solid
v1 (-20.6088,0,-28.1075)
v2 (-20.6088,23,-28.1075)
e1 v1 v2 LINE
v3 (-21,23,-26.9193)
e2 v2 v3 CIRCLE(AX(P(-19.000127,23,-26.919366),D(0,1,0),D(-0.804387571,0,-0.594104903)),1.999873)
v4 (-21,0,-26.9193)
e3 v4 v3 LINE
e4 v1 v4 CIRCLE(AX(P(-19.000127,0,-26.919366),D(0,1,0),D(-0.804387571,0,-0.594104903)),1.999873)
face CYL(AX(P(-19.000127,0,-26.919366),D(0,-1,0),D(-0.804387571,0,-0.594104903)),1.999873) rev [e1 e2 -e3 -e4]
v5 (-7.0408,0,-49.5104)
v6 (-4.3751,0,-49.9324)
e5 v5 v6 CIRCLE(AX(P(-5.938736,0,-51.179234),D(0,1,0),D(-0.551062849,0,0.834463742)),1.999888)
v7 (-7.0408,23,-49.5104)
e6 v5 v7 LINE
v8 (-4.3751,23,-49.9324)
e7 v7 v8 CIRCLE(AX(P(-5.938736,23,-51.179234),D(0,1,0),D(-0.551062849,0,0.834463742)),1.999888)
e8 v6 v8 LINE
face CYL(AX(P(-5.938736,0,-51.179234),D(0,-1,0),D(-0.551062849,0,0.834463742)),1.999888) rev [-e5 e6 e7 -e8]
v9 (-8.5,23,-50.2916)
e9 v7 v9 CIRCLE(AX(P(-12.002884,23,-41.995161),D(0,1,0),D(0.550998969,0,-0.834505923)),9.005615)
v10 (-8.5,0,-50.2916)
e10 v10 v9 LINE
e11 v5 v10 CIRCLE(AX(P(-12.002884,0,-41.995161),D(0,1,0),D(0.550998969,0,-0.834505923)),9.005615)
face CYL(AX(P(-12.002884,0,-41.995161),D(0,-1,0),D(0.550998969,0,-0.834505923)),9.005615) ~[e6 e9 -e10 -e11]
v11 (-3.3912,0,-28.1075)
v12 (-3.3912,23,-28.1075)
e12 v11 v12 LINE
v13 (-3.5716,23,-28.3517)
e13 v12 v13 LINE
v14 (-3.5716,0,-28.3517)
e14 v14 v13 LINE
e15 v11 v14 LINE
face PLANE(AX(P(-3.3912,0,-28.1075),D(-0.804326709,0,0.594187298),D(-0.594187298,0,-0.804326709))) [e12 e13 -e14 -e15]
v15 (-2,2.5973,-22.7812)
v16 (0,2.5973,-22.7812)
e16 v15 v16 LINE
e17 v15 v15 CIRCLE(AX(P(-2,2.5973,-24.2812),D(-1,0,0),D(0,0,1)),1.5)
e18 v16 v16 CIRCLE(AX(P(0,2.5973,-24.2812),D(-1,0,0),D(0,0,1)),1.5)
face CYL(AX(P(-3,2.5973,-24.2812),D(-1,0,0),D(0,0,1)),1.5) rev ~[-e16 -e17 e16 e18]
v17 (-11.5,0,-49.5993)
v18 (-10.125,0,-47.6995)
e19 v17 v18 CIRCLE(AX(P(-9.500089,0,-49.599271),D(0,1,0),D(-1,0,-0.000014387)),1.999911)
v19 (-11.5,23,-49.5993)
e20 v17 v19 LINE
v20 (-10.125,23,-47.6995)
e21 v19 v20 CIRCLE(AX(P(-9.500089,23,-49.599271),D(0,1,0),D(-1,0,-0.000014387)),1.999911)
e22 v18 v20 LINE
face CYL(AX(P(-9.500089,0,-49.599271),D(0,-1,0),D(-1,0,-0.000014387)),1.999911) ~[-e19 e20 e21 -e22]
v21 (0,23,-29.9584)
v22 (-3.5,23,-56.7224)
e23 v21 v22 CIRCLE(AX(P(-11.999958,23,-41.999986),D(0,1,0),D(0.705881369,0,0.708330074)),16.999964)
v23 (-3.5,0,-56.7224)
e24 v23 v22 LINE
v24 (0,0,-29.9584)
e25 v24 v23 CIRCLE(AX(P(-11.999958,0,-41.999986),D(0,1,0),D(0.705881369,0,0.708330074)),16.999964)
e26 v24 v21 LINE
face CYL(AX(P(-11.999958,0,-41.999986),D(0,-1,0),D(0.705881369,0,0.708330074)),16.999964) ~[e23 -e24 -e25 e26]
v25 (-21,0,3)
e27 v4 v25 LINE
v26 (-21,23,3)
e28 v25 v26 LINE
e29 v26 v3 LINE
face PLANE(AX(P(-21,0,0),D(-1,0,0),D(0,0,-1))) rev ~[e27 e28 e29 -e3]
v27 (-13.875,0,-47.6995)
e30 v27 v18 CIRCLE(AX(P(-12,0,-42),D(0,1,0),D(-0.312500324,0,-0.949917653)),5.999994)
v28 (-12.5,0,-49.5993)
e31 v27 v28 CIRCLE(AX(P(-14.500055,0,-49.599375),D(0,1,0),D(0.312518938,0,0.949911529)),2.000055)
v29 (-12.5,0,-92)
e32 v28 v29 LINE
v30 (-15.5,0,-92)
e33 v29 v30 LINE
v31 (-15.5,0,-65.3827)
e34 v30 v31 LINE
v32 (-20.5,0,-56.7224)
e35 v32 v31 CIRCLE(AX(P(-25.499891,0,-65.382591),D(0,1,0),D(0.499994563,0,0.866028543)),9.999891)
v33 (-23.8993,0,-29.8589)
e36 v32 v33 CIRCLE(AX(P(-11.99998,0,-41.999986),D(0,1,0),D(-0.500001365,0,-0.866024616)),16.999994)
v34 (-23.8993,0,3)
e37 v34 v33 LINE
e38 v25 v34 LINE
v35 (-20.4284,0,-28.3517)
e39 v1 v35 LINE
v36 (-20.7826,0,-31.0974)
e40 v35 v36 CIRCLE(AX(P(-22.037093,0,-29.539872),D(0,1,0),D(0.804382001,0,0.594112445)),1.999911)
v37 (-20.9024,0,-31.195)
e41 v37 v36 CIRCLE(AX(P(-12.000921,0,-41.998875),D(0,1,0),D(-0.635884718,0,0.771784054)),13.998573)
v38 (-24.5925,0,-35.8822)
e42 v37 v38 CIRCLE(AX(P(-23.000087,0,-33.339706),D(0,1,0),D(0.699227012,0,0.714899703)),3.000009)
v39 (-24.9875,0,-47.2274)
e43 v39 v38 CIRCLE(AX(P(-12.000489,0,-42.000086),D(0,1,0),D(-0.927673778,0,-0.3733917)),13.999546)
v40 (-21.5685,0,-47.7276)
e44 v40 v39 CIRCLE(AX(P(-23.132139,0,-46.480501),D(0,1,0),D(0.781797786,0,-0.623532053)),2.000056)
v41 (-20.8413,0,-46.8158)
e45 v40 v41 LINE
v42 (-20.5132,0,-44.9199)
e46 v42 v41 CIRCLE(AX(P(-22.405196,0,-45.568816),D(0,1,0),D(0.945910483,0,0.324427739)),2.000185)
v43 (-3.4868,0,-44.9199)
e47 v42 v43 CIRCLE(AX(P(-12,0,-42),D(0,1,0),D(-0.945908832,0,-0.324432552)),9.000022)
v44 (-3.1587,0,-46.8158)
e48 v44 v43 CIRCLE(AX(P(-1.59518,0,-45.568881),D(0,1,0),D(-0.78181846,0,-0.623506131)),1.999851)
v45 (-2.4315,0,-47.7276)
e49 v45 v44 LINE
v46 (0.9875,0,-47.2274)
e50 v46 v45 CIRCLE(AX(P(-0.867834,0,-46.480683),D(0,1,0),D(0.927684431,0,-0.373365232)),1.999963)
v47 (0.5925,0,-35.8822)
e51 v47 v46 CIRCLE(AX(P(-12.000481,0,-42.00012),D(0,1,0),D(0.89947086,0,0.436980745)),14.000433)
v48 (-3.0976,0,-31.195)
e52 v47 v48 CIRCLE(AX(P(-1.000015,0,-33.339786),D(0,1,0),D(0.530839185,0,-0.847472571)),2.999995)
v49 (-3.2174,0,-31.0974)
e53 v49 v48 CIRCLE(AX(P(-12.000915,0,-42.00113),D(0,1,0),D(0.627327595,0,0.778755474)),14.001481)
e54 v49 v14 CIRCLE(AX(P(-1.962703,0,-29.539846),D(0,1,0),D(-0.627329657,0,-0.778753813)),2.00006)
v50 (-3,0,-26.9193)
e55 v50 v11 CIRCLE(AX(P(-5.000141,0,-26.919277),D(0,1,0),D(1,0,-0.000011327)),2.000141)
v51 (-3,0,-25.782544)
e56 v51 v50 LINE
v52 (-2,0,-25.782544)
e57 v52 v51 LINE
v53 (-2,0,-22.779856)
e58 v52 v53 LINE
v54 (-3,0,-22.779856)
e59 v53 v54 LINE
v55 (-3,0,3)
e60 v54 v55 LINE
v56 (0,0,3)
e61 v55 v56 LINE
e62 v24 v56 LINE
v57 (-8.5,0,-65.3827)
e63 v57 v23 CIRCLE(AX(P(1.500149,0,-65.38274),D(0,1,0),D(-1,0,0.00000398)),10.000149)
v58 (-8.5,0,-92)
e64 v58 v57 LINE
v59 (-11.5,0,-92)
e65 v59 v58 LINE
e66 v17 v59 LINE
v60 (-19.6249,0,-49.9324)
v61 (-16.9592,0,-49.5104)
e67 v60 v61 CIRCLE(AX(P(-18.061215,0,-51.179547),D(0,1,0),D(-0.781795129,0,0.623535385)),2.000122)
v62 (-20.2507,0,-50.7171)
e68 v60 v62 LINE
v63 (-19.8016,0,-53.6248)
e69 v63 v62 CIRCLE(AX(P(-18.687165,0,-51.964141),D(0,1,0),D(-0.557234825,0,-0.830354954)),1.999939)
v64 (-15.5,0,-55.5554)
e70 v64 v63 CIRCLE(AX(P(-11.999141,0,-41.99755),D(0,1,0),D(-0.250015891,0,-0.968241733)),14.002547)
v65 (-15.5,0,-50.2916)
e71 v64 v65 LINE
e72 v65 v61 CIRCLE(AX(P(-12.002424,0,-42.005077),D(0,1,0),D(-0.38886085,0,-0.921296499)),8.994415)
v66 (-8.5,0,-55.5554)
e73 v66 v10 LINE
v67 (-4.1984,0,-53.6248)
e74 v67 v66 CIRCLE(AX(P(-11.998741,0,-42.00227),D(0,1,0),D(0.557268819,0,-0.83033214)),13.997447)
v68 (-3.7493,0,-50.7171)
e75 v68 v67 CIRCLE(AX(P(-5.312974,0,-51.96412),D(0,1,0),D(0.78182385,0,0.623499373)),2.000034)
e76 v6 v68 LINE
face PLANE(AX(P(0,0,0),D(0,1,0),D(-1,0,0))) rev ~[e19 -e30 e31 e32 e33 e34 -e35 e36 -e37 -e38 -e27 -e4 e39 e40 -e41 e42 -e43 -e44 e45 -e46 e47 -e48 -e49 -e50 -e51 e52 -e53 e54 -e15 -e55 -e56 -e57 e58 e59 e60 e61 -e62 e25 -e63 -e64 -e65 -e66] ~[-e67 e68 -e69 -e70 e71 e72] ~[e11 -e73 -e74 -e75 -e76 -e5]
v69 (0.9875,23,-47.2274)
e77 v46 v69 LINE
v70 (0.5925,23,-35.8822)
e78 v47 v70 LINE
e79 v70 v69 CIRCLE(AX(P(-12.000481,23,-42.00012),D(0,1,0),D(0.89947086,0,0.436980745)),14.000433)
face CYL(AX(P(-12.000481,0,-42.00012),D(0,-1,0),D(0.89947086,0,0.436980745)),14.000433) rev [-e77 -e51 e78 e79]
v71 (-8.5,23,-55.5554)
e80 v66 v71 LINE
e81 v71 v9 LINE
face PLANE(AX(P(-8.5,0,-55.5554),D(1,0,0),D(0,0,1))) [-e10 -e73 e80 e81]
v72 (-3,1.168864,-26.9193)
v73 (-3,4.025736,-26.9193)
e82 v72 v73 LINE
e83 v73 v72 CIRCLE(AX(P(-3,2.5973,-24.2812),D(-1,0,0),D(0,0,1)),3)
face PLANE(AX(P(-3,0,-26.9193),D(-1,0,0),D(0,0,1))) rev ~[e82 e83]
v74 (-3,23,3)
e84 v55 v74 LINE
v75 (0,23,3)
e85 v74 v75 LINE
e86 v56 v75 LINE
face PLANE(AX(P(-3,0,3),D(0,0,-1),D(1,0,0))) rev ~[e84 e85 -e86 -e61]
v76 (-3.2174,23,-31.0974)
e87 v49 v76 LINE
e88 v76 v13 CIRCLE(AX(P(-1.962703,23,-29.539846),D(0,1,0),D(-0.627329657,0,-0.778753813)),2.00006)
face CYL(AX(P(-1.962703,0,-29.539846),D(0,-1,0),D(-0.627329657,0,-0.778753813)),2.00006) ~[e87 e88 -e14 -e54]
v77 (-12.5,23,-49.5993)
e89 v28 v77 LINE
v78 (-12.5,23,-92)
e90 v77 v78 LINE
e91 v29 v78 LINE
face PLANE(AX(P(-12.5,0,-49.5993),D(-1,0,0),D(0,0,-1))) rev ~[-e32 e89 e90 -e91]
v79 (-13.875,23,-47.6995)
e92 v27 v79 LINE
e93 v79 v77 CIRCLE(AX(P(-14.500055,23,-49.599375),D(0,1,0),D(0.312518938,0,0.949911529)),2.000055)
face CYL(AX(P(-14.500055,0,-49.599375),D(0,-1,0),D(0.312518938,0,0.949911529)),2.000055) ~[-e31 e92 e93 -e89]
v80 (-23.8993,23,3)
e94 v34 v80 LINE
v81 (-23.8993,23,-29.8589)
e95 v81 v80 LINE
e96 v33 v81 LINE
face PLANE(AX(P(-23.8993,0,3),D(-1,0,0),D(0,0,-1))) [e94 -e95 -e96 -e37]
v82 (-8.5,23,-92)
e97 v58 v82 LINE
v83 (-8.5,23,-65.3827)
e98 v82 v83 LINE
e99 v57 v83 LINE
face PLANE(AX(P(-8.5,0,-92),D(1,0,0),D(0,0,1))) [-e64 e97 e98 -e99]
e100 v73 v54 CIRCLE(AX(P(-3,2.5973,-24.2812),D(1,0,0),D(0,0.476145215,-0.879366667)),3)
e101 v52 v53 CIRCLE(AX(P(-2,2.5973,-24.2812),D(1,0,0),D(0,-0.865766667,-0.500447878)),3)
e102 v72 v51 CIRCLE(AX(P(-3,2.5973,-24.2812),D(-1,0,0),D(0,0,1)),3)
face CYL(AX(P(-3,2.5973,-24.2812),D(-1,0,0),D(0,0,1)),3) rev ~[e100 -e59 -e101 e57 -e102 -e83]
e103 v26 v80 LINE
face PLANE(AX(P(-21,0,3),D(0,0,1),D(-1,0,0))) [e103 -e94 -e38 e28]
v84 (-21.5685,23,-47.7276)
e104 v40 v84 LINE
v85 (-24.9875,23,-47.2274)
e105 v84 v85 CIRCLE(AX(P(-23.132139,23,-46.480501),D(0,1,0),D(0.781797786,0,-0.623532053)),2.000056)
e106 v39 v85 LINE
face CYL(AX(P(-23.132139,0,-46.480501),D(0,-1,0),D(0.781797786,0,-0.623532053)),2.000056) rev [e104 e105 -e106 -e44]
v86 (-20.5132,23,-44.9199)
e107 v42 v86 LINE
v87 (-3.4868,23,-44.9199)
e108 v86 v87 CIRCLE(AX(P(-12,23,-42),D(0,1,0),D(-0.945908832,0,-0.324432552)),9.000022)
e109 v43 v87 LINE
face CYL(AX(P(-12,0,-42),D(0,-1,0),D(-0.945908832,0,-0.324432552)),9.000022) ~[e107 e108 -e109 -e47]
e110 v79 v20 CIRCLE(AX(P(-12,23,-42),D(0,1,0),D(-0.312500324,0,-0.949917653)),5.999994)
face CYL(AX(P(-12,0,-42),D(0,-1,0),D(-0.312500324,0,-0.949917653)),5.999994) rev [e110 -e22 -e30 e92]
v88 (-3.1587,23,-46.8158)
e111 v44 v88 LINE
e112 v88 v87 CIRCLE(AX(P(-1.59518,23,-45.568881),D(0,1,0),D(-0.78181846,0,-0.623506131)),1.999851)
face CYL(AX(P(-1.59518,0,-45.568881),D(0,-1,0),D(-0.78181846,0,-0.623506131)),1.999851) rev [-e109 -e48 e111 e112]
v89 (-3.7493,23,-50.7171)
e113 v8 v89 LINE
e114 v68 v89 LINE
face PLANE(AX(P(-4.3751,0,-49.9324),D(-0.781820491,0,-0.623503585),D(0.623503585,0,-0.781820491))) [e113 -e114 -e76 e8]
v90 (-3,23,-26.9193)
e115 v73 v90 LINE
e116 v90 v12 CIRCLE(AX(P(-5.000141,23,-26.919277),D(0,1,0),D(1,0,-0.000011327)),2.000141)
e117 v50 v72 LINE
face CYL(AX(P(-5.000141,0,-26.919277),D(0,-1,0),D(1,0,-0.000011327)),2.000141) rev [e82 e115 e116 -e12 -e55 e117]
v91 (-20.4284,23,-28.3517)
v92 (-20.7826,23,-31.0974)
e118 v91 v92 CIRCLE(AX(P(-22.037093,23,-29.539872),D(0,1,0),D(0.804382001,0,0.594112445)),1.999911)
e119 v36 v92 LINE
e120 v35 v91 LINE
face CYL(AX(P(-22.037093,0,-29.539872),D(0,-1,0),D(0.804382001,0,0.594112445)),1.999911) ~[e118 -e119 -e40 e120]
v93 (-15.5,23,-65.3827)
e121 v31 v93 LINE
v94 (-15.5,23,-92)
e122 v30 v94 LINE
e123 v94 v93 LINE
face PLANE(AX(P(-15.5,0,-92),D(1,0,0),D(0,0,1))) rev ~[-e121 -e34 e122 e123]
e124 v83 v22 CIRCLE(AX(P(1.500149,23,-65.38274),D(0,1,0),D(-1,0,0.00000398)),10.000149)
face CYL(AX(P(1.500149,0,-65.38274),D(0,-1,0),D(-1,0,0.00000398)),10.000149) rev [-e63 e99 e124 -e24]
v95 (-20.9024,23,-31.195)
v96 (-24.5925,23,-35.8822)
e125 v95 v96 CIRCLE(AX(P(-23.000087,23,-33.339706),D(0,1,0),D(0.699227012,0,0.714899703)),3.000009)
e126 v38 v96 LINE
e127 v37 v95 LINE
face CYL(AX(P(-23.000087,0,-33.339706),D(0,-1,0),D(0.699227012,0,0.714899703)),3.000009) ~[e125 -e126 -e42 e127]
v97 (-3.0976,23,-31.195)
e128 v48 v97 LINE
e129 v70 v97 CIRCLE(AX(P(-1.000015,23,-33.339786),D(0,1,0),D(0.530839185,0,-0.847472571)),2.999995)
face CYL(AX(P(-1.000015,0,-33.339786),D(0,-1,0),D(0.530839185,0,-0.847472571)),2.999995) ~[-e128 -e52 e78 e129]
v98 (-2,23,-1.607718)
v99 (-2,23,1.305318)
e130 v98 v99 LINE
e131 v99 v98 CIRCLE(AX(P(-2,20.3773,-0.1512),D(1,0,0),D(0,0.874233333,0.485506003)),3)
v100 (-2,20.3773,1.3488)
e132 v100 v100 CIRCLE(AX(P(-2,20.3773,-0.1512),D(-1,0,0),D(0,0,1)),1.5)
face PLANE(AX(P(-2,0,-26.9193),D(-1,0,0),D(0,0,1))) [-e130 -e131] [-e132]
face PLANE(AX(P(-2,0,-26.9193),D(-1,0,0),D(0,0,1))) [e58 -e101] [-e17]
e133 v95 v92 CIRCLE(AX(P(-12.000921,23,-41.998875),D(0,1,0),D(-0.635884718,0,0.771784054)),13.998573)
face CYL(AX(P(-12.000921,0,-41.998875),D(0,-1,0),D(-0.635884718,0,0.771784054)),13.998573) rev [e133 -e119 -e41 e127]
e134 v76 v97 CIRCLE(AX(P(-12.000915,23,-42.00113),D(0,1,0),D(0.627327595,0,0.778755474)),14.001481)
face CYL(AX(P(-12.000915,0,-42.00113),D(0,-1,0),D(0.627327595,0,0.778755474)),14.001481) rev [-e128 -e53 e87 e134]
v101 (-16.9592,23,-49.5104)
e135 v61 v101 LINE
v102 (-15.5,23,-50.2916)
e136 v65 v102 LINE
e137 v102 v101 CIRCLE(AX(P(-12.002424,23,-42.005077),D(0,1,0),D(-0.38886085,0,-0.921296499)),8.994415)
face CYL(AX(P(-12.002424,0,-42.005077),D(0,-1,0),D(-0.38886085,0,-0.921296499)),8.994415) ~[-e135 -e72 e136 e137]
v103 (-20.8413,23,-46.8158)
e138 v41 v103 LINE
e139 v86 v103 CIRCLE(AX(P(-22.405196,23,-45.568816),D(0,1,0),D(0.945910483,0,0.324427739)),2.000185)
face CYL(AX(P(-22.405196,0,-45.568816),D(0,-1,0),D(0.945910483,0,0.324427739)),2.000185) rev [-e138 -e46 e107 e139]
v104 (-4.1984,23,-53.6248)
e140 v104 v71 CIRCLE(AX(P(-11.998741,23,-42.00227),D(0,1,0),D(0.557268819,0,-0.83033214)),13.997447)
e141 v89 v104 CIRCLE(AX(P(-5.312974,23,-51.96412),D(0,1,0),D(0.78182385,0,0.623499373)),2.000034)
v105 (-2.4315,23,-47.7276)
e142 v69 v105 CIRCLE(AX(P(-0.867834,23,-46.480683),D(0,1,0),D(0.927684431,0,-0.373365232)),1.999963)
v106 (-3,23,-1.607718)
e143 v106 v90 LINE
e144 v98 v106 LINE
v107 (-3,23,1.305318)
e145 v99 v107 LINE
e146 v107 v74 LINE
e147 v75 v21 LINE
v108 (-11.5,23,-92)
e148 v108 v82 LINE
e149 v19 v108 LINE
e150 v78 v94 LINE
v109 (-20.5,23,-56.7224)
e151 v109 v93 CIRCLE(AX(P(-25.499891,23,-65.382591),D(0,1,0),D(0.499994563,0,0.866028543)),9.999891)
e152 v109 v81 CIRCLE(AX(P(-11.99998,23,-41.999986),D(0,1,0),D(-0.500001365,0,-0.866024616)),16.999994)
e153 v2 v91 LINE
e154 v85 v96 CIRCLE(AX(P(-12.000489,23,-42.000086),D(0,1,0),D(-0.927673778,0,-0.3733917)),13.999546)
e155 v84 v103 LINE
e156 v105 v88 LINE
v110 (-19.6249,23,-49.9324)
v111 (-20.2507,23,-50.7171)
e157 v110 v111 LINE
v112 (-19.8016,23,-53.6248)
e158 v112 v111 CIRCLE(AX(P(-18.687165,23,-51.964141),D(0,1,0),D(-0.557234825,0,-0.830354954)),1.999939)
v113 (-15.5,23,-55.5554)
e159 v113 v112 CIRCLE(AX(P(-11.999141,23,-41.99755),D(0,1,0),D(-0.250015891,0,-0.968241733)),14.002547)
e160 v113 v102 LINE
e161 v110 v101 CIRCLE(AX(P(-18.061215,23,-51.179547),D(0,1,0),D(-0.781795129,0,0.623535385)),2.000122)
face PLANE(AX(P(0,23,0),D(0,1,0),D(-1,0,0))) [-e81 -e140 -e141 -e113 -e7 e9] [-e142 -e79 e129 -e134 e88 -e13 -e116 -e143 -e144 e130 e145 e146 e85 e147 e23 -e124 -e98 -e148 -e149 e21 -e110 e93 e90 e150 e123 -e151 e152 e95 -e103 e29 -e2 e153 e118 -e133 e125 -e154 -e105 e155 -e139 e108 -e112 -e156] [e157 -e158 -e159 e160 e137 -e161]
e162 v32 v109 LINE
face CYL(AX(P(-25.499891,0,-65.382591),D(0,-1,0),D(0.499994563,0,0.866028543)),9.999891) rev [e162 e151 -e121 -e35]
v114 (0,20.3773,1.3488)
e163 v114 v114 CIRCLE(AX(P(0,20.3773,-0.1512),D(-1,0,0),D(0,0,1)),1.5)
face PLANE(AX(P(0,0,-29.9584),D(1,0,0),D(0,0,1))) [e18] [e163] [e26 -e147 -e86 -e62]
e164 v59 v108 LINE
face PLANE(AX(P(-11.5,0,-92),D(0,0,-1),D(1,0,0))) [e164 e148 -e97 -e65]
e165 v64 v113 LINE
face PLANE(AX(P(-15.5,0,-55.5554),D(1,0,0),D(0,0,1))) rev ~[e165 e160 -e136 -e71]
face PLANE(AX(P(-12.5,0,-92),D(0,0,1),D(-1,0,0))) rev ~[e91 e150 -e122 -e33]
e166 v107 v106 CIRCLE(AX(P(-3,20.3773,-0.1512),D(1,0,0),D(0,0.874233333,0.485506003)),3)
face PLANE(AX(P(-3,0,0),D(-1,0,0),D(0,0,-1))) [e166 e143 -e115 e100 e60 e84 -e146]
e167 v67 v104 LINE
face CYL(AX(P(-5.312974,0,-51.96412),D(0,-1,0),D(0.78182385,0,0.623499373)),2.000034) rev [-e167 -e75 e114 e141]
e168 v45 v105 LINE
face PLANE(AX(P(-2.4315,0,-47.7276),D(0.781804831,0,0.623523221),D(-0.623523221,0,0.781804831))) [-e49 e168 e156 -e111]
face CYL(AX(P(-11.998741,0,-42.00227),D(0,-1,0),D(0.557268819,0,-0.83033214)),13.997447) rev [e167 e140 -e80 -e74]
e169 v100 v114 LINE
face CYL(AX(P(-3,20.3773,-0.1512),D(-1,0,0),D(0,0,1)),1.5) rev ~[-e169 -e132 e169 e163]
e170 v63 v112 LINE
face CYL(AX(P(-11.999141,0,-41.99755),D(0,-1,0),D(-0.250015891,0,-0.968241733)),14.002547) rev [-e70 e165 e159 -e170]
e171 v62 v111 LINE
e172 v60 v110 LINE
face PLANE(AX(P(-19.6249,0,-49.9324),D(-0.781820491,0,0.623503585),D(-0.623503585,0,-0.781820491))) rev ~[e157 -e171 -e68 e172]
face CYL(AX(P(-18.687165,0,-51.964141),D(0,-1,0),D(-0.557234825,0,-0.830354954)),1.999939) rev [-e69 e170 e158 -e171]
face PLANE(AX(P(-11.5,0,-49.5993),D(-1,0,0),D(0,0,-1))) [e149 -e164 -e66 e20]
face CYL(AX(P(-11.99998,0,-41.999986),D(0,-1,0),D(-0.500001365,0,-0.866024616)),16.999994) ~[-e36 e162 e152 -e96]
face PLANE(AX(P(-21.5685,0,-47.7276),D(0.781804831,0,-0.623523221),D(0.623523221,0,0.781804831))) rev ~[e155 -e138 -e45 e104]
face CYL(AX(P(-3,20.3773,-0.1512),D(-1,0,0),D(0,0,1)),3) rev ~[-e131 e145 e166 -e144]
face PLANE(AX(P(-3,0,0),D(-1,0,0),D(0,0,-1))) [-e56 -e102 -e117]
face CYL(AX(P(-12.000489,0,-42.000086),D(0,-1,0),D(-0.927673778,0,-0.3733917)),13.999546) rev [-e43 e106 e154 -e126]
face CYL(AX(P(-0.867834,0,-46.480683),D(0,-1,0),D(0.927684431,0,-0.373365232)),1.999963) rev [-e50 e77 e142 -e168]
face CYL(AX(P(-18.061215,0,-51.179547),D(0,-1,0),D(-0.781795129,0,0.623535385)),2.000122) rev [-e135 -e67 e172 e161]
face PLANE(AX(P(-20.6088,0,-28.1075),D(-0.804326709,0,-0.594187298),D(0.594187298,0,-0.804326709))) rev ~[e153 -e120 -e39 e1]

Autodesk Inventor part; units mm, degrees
ref_plane "YZ Plane" through (0, 0, 0) normal (1, 0, 0) x (0, 1, 0)
ref_plane "XZ Plane" through (0, 0, 0) normal (0, 1, 0) x (-1, 0, 0)
ref_plane "XY Plane" through (0, 0, 0) normal (0, 0, 1) x (1, 0, 0)
sketch "Sketch1" plane through (0, 0, 0) normal (0, 1, 0) x (-1, 0, 0)
  line L0 (3, 0) -> (3, -26.9193)
  line L1 (0, -30) -> (0, 0)
  line L2 (3, 0) -> (3, 3)
  line L3 (3, 3) -> (0, 3)
  line L4 (0, 3) -> (0, 0)
  line L5 (21, 0) -> (21, -26.9193)
  line L6 (23.8993, -30) -> (23.8993, -0.0434)
  line L7 (21, 0) -> (21, 3)
  line L8 (21, 3) -> (23.8993, 3)
  line L9 (23.8993, 3) -> (23.8993, -0.0434)
  line L10 (20.6088, -28.1075) -> (20.4284, -28.3517)
  line L11 (3.3912, -28.1075) -> (3.5716, -28.3517)
  arc A0 (13.875, -47.6995) -> (10.125, -47.6995) centre (12, -42) ccw
  line L12 (12.5, -49.5993) -> (12.5, -92)
  line L13 (12.5, -92) -> (15.5, -92)
  line L14 (11.5, -49.5993) -> (11.5, -92)
  line L15 (11.5, -92) -> (8.5, -92)
  arc A1 (0, -29.9584) -> (3.5, -56.7224) centre (12, -42) ccw
  arc A2 (20.5, -56.7224) -> (23.8993, -29.8589) centre (12, -42) ccw
  line L16 (15.5, -92) -> (15.5, -65.3827)
  line L17 (15.5, -55.5554) -> (15.5, -50.2916)
  line L18 (8.5, -92) -> (8.5, -65.3827)
  line L19 (8.5, -55.5554) -> (8.5, -50.2916)
  arc A3 (20.9024, -31.195) -> (20.7826, -31.0974) centre (12, -42) ccw
  line L20 (19.6249, -49.9324) -> (20.2507, -50.7171)
  line L21 (23.8993, -51.3801) -> (24.2551, -51.0964)
  line L22 (21.5685, -47.7276) -> (20.8413, -46.8158)
  arc A4 (15.5, -55.5554) -> (19.8016, -53.6248) centre (12, -42) ccw
  arc A5 (24.9875, -47.2274) -> (24.5925, -35.8822) centre (12, -42) ccw
  arc A6 (15.5, -50.2916) -> (16.9592, -49.5104) centre (12, -42) ccw
  line L23 (4.3751, -49.9324) -> (3.7493, -50.7171)
  line L24 (2.4315, -47.7276) -> (3.1587, -46.8158)
  arc A7 (20.5132, -44.9199) -> (3.4868, -44.9199) centre (12, -42) ccw
  arc A8 (7.0408, -49.5104) -> (8.5, -50.2916) centre (12, -42) ccw
  arc A9 (4.1984, -53.6248) -> (8.5, -55.5554) centre (12, -42) ccw
  arc A10 (3.2174, -31.0974) -> (3.0976, -31.195) centre (12, -42) ccw
  arc A11 (-0.5925, -35.8822) -> (-0.9875, -47.2274) centre (12, -42) ccw
  arc A12 (20.5, -56.7224) -> (15.5, -65.3827) centre (25.5, -65.3827) ccw
  arc A13 (8.5, -65.3827) -> (3.5, -56.7224) centre (-1.5, -65.3827) ccw
  arc A14 (7.0408, -49.5104) -> (4.3751, -49.9324) centre (5.9387, -51.1794) ccw
  arc A15 (3.1587, -46.8158) -> (3.4868, -44.9199) centre (1.595, -45.5688) ccw
  arc A16 (-0.9875, -47.2274) -> (2.4315, -47.7276) centre (0.8679, -46.4806) ccw
  arc A17 (3.7493, -50.7171) -> (4.1984, -53.6248) centre (5.3129, -51.9641) ccw
  arc A18 (19.6249, -49.9324) -> (16.9592, -49.5104) centre (18.0613, -51.1794) ccw
  arc A19 (21.5685, -47.7276) -> (24.9875, -47.2274) centre (23.1321, -46.4806) ccw
  arc A20 (19.8016, -53.6248) -> (20.2507, -50.7171) centre (18.6871, -51.9641) ccw
  arc A21 (20.5132, -44.9199) -> (20.8413, -46.8158) centre (22.405, -45.5688) ccw
  arc A22 (3.2174, -31.0974) -> (3.5716, -28.3517) centre (1.9628, -29.5399) ccw
  arc A23 (20.4284, -28.3517) -> (20.7826, -31.0974) centre (22.0372, -29.5399) ccw
  arc A24 (20.6088, -28.1075) -> (21, -26.9193) centre (19, -26.9193) ccw
  arc A25 (3, -26.9193) -> (3.3912, -28.1075) centre (5, -26.9193) ccw
  arc A26 (13.875, -47.6995) -> (12.5, -49.5993) centre (14.5, -49.5993) ccw
  arc A27 (11.5, -49.5993) -> (10.125, -47.6995) centre (9.5, -49.5993) ccw
  arc A28 (20.9024, -31.195) -> (24.5925, -35.8822) centre (23, -33.3397) ccw
  arc A29 (-0.5925, -35.8822) -> (3.0976, -31.195) centre (1, -33.3397) ccw
  point P0 (19.2111, -30)
  point P1 (4.7889, -30)
  point P2 (12.5, -47.9791)
  point P3 (11.5, -47.9791)
  point P4 (8.5, -58.6358)
  point P5 (15.5, -58.6358)
  point P6 (18.3696, -48.3583)
  point P7 (21.4999, -52.2835)
  point P8 (23.4384, -50.0724)
  point P9 (20.1111, -45.9001)
  point P10 (5.6304, -48.3583)
  point P11 (2.5001, -52.2835)
  point P12 (0.5616, -50.0724)
  point P13 (3.8889, -45.9001)
  dimension "d4" = 3
  dimension "d6" = 3
  dimension "d7" = 3
  dimension "d8" = 90
  dimension "d9" = 10
  dimension "d10" = 2
  dimension "d11" = 2
  dimension "d12" = 2
  dimension "d13" = 6
  dimension "d14" = 6
extrude "Extrusion1" add sketch "Sketch1" along normal blind 23
sketch "Sketch3" plane through (-3, 0, -26.9193) normal (-1, 0, 0) x (0, 0, 1)
  line L0 (0, 23) -> (29.9193, 23) projected
  line L1 (29.9193, 23) -> (15.7246, 23)
  circle A0 centre (26.7681, 20.3773) radius 1.5
  circle A1 centre (26.7681, 20.3773) radius 3
  circle A2 centre (2.6381, 2.5973) radius 1.5
  circle A3 centre (2.6381, 2.5973) radius 3
  point P0 (26.9193, 0)
  point P1 (1.7246, 22.9923)
  point P2 (26.9193, 46)
  point P3 (1.7246, 23.0077)
extrude "Extrusion2" cut sketch "Sketch3" against normal blind 1 contours A1 L0 | L0 A1 | A0 | A2 | A3
extrude "Extrusion3" cut sketch "Sketch3" against normal blind 3 contours A0 | A2
